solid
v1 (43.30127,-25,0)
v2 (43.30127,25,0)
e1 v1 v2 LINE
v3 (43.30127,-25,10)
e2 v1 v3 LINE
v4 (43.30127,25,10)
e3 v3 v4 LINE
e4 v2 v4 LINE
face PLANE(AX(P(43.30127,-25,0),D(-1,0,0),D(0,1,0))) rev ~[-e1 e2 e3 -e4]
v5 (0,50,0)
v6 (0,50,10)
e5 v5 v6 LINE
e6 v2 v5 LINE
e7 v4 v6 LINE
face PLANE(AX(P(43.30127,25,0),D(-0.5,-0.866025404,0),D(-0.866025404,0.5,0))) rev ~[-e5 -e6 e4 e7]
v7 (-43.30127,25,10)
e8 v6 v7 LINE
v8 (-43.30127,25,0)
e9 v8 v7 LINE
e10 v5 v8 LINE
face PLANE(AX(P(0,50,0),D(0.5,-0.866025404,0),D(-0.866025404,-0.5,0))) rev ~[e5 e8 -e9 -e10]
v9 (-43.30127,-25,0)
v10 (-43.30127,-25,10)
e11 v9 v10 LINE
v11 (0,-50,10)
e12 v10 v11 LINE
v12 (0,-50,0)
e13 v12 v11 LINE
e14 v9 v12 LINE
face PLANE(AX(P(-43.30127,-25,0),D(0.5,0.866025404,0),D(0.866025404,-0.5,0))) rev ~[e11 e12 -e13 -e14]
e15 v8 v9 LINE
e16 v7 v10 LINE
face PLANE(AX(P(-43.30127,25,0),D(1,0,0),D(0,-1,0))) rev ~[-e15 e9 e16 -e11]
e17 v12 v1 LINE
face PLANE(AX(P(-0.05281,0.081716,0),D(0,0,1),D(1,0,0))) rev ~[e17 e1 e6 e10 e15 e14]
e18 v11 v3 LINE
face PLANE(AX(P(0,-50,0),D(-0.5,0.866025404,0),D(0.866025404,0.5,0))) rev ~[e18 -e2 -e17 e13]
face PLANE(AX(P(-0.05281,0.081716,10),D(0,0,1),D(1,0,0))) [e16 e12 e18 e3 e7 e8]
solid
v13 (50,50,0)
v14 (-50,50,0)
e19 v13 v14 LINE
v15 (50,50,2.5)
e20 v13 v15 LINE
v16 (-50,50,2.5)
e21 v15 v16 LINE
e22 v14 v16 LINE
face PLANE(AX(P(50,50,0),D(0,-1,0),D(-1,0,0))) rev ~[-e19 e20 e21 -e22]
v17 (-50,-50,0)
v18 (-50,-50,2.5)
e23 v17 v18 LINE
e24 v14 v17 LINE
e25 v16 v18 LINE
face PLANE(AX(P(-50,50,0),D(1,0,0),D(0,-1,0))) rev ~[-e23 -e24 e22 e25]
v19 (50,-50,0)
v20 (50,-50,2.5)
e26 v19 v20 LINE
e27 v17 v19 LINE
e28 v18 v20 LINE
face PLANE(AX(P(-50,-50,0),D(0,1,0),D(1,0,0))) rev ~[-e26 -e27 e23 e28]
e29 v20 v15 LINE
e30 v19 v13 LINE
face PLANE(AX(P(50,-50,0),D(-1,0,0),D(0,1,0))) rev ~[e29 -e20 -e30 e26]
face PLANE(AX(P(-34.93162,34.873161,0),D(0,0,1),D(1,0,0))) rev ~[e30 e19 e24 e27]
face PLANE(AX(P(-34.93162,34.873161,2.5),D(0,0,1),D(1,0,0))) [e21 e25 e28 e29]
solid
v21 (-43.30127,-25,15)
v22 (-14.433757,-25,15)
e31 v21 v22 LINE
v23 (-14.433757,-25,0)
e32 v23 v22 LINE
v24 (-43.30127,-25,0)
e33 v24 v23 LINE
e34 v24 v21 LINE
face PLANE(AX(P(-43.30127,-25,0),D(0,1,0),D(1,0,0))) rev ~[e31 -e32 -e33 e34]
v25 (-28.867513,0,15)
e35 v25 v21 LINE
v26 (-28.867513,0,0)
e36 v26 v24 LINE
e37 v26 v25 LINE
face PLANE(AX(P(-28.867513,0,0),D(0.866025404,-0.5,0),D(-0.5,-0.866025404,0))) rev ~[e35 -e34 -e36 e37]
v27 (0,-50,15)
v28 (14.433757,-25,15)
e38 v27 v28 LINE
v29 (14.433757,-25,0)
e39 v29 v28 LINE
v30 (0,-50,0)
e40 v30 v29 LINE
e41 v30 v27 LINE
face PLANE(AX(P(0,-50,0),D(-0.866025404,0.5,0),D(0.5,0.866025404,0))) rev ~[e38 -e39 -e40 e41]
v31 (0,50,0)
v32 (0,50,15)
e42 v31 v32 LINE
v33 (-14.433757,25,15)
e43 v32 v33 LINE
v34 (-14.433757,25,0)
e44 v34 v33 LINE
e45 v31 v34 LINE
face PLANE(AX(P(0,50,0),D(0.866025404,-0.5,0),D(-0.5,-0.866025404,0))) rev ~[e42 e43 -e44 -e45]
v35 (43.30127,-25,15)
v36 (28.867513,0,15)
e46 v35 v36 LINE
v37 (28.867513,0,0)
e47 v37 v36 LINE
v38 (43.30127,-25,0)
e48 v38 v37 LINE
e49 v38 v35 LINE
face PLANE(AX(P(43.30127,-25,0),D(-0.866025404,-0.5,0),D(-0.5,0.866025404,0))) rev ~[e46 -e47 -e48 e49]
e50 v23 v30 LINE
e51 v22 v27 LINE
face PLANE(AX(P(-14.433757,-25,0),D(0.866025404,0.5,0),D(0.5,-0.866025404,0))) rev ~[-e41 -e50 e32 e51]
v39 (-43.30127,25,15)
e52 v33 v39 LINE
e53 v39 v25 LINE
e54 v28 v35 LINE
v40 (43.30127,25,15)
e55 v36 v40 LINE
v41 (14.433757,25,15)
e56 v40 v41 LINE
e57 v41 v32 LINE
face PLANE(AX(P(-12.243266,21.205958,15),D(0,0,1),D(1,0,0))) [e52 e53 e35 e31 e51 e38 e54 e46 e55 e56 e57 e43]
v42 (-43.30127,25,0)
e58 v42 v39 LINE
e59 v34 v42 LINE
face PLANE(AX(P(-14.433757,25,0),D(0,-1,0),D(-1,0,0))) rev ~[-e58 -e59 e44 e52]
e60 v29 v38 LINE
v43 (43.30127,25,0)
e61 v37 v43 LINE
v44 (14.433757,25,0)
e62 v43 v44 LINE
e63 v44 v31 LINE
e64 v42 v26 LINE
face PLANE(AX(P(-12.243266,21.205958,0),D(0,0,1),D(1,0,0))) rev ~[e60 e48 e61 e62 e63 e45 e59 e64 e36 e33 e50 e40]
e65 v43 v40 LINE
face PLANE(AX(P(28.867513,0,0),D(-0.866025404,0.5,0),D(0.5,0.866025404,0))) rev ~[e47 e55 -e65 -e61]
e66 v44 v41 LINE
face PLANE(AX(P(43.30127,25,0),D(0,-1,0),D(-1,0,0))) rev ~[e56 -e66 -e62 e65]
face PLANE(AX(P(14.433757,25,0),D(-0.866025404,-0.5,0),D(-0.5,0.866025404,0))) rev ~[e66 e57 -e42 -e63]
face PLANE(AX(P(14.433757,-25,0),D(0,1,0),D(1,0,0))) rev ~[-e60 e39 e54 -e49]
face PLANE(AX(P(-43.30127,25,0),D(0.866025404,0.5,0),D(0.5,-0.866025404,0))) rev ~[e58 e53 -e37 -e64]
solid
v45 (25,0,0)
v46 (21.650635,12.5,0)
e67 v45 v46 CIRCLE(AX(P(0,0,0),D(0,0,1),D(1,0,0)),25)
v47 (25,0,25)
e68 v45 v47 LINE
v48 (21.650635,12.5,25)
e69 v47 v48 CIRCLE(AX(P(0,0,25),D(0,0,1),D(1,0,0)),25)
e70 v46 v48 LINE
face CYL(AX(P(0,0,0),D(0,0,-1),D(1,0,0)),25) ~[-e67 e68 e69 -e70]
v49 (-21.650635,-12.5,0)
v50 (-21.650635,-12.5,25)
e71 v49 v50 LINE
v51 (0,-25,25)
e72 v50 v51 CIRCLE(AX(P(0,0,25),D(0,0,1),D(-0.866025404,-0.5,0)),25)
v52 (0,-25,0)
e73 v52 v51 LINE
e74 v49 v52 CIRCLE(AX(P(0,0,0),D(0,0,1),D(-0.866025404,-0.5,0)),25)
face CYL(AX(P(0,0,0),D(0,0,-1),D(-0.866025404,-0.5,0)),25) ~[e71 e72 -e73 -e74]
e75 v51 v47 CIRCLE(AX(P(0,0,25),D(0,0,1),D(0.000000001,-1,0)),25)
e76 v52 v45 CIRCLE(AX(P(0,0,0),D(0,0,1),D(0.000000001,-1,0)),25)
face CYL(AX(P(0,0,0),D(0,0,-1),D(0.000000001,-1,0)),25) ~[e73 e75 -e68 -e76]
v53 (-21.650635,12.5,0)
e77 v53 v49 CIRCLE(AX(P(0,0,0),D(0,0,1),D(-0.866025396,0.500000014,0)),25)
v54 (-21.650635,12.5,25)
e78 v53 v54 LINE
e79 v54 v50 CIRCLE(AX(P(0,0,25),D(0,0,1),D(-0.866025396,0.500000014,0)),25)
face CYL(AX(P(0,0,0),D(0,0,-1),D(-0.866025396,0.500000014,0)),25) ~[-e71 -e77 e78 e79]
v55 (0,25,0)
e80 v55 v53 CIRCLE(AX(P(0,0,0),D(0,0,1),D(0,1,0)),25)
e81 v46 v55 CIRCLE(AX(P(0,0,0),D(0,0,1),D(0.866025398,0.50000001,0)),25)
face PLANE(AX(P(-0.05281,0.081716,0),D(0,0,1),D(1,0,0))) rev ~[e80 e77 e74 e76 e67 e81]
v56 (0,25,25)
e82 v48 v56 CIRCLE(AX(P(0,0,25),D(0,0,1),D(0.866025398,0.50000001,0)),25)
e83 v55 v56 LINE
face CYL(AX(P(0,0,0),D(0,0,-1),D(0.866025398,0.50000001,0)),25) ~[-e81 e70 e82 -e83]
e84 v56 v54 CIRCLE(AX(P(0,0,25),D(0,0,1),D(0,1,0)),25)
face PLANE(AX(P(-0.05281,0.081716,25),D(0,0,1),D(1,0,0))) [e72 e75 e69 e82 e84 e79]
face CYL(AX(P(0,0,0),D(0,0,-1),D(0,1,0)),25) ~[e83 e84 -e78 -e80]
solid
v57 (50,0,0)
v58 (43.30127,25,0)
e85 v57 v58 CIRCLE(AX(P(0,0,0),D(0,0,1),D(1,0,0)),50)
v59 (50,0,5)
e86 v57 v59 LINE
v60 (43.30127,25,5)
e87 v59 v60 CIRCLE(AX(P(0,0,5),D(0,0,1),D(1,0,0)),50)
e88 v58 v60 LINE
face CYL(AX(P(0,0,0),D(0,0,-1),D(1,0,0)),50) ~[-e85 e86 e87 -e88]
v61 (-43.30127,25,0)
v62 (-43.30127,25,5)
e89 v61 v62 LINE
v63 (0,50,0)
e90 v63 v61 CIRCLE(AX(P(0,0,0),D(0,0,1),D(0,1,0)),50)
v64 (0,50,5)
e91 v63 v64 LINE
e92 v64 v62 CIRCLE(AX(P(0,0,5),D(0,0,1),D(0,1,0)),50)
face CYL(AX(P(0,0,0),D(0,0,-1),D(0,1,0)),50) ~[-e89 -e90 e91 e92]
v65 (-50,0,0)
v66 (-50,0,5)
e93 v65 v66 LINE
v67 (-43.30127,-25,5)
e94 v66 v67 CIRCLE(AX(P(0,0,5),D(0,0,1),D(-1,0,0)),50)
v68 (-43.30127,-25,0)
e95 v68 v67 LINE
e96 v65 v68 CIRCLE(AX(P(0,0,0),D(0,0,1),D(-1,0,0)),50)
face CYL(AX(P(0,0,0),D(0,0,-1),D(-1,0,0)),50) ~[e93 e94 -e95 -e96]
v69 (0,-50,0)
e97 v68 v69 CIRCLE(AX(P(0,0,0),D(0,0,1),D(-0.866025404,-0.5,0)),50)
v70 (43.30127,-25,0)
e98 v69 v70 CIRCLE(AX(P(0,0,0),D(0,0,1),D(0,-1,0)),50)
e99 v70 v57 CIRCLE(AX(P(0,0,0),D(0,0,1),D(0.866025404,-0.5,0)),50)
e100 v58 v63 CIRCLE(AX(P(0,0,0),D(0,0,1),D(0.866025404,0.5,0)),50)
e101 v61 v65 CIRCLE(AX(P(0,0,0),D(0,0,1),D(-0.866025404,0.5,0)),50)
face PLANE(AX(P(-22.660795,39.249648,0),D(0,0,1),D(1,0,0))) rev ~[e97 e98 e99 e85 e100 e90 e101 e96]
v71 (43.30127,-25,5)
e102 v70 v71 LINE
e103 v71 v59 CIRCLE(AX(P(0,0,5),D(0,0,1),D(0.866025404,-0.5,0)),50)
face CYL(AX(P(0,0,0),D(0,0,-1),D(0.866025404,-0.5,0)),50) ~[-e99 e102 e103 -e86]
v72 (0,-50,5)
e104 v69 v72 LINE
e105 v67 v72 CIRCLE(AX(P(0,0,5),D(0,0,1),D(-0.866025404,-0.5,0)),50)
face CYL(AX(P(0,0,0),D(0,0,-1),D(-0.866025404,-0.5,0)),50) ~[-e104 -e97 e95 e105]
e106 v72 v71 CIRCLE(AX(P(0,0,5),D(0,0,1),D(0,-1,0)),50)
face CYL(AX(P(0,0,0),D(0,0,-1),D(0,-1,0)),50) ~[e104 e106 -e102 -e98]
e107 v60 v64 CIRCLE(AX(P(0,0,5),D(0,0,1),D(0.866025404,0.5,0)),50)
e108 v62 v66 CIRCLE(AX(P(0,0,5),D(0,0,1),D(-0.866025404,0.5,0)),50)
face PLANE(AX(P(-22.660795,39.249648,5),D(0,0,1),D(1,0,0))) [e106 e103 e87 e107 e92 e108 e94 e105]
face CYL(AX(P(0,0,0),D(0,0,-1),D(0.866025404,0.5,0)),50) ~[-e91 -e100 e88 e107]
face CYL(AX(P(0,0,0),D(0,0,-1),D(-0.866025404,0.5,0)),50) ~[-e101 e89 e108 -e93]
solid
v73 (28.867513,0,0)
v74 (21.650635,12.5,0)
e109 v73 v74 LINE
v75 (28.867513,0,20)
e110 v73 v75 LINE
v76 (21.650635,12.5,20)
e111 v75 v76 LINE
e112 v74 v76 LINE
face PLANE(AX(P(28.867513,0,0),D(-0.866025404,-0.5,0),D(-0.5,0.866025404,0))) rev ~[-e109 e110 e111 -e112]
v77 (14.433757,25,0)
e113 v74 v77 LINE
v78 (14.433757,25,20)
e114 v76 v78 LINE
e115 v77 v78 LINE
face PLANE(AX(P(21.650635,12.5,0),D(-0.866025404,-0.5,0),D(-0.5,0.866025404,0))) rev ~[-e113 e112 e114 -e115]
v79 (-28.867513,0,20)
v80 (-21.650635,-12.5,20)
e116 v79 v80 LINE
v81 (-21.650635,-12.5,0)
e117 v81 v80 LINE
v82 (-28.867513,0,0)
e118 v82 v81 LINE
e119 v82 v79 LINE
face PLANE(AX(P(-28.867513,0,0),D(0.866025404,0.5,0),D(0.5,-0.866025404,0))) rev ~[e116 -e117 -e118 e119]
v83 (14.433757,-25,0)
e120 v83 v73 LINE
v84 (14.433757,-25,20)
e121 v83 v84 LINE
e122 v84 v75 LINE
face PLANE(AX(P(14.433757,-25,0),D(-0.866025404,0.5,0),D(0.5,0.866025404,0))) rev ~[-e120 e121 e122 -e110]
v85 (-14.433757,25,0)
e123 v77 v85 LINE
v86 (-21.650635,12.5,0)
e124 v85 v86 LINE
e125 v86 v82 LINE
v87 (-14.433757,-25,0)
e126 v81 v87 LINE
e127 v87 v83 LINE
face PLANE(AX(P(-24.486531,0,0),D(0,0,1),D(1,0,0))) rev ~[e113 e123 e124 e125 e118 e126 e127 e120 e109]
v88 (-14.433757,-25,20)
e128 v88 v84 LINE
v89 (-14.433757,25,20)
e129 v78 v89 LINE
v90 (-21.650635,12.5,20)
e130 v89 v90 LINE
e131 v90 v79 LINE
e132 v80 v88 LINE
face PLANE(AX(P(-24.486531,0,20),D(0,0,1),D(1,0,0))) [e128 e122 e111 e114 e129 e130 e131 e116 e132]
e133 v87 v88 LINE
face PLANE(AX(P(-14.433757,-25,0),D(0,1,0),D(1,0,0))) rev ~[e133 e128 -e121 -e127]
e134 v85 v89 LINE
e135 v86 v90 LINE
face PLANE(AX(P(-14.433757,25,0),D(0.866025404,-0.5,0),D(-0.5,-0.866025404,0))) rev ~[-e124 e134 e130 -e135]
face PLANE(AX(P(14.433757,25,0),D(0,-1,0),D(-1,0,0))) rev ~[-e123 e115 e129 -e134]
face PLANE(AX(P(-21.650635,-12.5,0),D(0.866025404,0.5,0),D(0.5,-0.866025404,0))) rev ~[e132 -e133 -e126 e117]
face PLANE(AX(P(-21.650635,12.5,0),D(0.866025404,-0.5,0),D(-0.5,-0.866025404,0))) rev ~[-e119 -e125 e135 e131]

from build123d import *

# Parameters (mm, degrees)
F1_DEPTH = 25
F2_DEPTH = 20
F3_DEPTH = 15
F4_DEPTH = 10
F5_DEPTH = 5
F6_DEPTH = 2.5


with BuildPart() as f1:
    # F0 (on Top) → F1 (new body)
    with BuildSketch(Plane.XY):
        with BuildLine():
            ThreePointArc((21.6506349485, 12.5000002531), (12.4999998734, 21.6506351677), (0, 25))
            ThreePointArc((0, 25), (-12.499999828, 21.6506351939), (-21.650634896, 12.500000344))
            ThreePointArc((-21.650634896, 12.500000344), (-25, 2.051e-07), (-21.6506351011, -12.4999999888))
            ThreePointArc((-21.6506351011, -12.4999999888), (-12.4999999898, -21.6506351005), (3.65e-08, -25))
            ThreePointArc((3.65e-08, -25), (12.5000002944, -21.6506349246), (21.6506354163, -12.4999994428))
            ThreePointArc((21.6506354163, -12.4999994428), (24.1481457405, -6.4704758168), (25, 0))
            ThreePointArc((25, 0), (24.1481456194, 6.4704762687), (21.6506349485, 12.5000002531))
        make_face()
    extrude(amount=F1_DEPTH)


with BuildPart() as f2:
    # F0 (on Top) → F2 (new body)
    with BuildSketch(Plane.XY):
        with BuildLine():
            Line((-21.650634896, 12.500000344), (-28.8675134595, 0))
            Line((-28.8675134595, 0), (-21.6506351011, -12.4999999888))
            ThreePointArc((-21.6506351011, -12.4999999888), (-25, 2.051e-07), (-21.650634896, 12.500000344))
        make_face()
        with BuildLine():
            Line((0, 25), (-14.4337567297, 25))
            Line((-14.4337567297, 25), (-21.650634896, 12.500000344))
            ThreePointArc((-21.650634896, 12.500000344), (-12.499999828, 21.6506351939), (0, 25))
        make_face()
        with BuildLine():
            Line((21.6506349485, 12.5000002531), (14.4337567297, 25))
            Line((14.4337567297, 25), (0, 25))
            ThreePointArc((0, 25), (12.4999998734, 21.6506351677), (21.6506349485, 12.5000002531))
        make_face()
        with BuildLine():
            Line((21.6506354163, -12.4999994428), (28.8675134595, 0))
            Line((28.8675134595, 0), (21.6506349485, 12.5000002531))
            ThreePointArc((21.6506349485, 12.5000002531), (24.1481456194, 6.4704762687), (25, 0))
            ThreePointArc((25, 0), (24.1481457405, -6.4704758168), (21.6506354163, -12.4999994428))
        make_face()
        with BuildLine():
            Line((3.65e-08, -25), (14.4337567297, -25))
            Line((14.4337567297, -25), (21.6506354163, -12.4999994428))
            ThreePointArc((21.6506354163, -12.4999994428), (12.5000002944, -21.6506349246), (3.65e-08, -25))
        make_face()
        with BuildLine():
            Line((-21.6506351011, -12.4999999888), (-14.4337567297, -25))
            Line((-14.4337567297, -25), (3.65e-08, -25))
            ThreePointArc((3.65e-08, -25), (-12.4999999898, -21.6506351005), (-21.6506351011, -12.4999999888))
        make_face()
        with BuildLine():
            ThreePointArc((21.6506349485, 12.5000002531), (12.4999998734, 21.6506351677), (0, 25))
            ThreePointArc((0, 25), (-12.499999828, 21.6506351939), (-21.650634896, 12.500000344))
            ThreePointArc((-21.650634896, 12.500000344), (-25, 2.051e-07), (-21.6506351011, -12.4999999888))
            ThreePointArc((-21.6506351011, -12.4999999888), (-12.4999999898, -21.6506351005), (3.65e-08, -25))
            ThreePointArc((3.65e-08, -25), (12.5000002944, -21.6506349246), (21.6506354163, -12.4999994428))
            ThreePointArc((21.6506354163, -12.4999994428), (24.1481457405, -6.4704758168), (25, 0))
            ThreePointArc((25, 0), (24.1481456194, 6.4704762687), (21.6506349485, 12.5000002531))
        make_face()
    extrude(amount=F2_DEPTH)


with BuildPart() as f3:
    # F0 (on Top) → F3 (new body)
    with BuildSketch(Plane.XY):
        with BuildLine():
            Line((0, 25), (-14.4337567297, 25))
            Line((-14.4337567297, 25), (-21.650634896, 12.500000344))
            ThreePointArc((-21.650634896, 12.500000344), (-12.499999828, 21.6506351939), (0, 25))
        make_face()
        with BuildLine():
            Line((21.6506349485, 12.5000002531), (14.4337567297, 25))
            Line((14.4337567297, 25), (0, 25))
            ThreePointArc((0, 25), (12.4999998734, 21.6506351677), (21.6506349485, 12.5000002531))
        make_face()
        with BuildLine():
            ThreePointArc((21.6506349485, 12.5000002531), (12.4999998734, 21.6506351677), (0, 25))
            ThreePointArc((0, 25), (-12.499999828, 21.6506351939), (-21.650634896, 12.500000344))
            ThreePointArc((-21.650634896, 12.500000344), (-25, 2.051e-07), (-21.6506351011, -12.4999999888))
            ThreePointArc((-21.6506351011, -12.4999999888), (-12.4999999898, -21.6506351005), (3.65e-08, -25))
            ThreePointArc((3.65e-08, -25), (12.5000002944, -21.6506349246), (21.6506354163, -12.4999994428))
            ThreePointArc((21.6506354163, -12.4999994428), (24.1481457405, -6.4704758168), (25, 0))
            ThreePointArc((25, 0), (24.1481456194, 6.4704762687), (21.6506349485, 12.5000002531))
        make_face()
        with BuildLine():
            Line((21.6506354163, -12.4999994428), (28.8675134595, 0))
            Line((28.8675134595, 0), (21.6506349485, 12.5000002531))
            ThreePointArc((21.6506349485, 12.5000002531), (24.1481456194, 6.4704762687), (25, 0))
            ThreePointArc((25, 0), (24.1481457405, -6.4704758168), (21.6506354163, -12.4999994428))
        make_face()
        with BuildLine():
            Line((3.65e-08, -25), (14.4337567297, -25))
            Line((14.4337567297, -25), (21.6506354163, -12.4999994428))
            ThreePointArc((21.6506354163, -12.4999994428), (12.5000002944, -21.6506349246), (3.65e-08, -25))
        make_face()
        with BuildLine():
            Line((-21.6506351011, -12.4999999888), (-14.4337567297, -25))
            Line((-14.4337567297, -25), (3.65e-08, -25))
            ThreePointArc((3.65e-08, -25), (-12.4999999898, -21.6506351005), (-21.6506351011, -12.4999999888))
        make_face()
        with BuildLine():
            Line((-21.650634896, 12.500000344), (-28.8675134595, 0))
            Line((-28.8675134595, 0), (-21.6506351011, -12.4999999888))
            ThreePointArc((-21.6506351011, -12.4999999888), (-25, 2.051e-07), (-21.650634896, 12.500000344))
        make_face()
        Polygon((28.8675134595, 0), (43.3012701892, 25), (14.4337567297, 25), (21.6506349485, 12.5000002531), align=None)
        Polygon((-14.4337567297, -25), (0, -50), (14.4337567297, -25), (3.65e-08, -25), align=None)
        Polygon((14.4337567297, -25), (43.3012701892, -25), (28.8675134595, 0), (21.6506354163, -12.4999994428), align=None)
        Polygon((14.4337567297, 25), (0, 50), (-14.4337567297, 25), (0, 25), align=None)
        Polygon((-14.4337567297, 25), (-43.3012701892, 25), (-28.8675134595, 0), (-21.650634896, 12.500000344), align=None)
        Polygon((-28.8675134595, 0), (-43.3012701892, -25), (-14.4337567297, -25), (-21.6506351011, -12.4999999888), align=None)
    extrude(amount=F3_DEPTH)


with BuildPart() as f4:
    # F0 (on Top) → F4 (new body)
    with BuildSketch(Plane.XY):
        with BuildLine():
            ThreePointArc((21.6506349485, 12.5000002531), (12.4999998734, 21.6506351677), (0, 25))
            ThreePointArc((0, 25), (-12.499999828, 21.6506351939), (-21.650634896, 12.500000344))
            ThreePointArc((-21.650634896, 12.500000344), (-25, 2.051e-07), (-21.6506351011, -12.4999999888))
            ThreePointArc((-21.6506351011, -12.4999999888), (-12.4999999898, -21.6506351005), (3.65e-08, -25))
            ThreePointArc((3.65e-08, -25), (12.5000002944, -21.6506349246), (21.6506354163, -12.4999994428))
            ThreePointArc((21.6506354163, -12.4999994428), (24.1481457405, -6.4704758168), (25, 0))
            ThreePointArc((25, 0), (24.1481456194, 6.4704762687), (21.6506349485, 12.5000002531))
        make_face()
        with BuildLine():
            Line((0, 25), (-14.4337567297, 25))
            Line((-14.4337567297, 25), (-21.650634896, 12.500000344))
            ThreePointArc((-21.650634896, 12.500000344), (-12.499999828, 21.6506351939), (0, 25))
        make_face()
        with BuildLine():
            Line((21.6506349485, 12.5000002531), (14.4337567297, 25))
            Line((14.4337567297, 25), (0, 25))
            ThreePointArc((0, 25), (12.4999998734, 21.6506351677), (21.6506349485, 12.5000002531))
        make_face()
        with BuildLine():
            Line((21.6506354163, -12.4999994428), (28.8675134595, 0))
            Line((28.8675134595, 0), (21.6506349485, 12.5000002531))
            ThreePointArc((21.6506349485, 12.5000002531), (24.1481456194, 6.4704762687), (25, 0))
            ThreePointArc((25, 0), (24.1481457405, -6.4704758168), (21.6506354163, -12.4999994428))
        make_face()
        with BuildLine():
            Line((3.65e-08, -25), (14.4337567297, -25))
            Line((14.4337567297, -25), (21.6506354163, -12.4999994428))
            ThreePointArc((21.6506354163, -12.4999994428), (12.5000002944, -21.6506349246), (3.65e-08, -25))
        make_face()
        with BuildLine():
            Line((-21.6506351011, -12.4999999888), (-14.4337567297, -25))
            Line((-14.4337567297, -25), (3.65e-08, -25))
            ThreePointArc((3.65e-08, -25), (-12.4999999898, -21.6506351005), (-21.6506351011, -12.4999999888))
        make_face()
        with BuildLine():
            Line((-21.650634896, 12.500000344), (-28.8675134595, 0))
            Line((-28.8675134595, 0), (-21.6506351011, -12.4999999888))
            ThreePointArc((-21.6506351011, -12.4999999888), (-25, 2.051e-07), (-21.650634896, 12.500000344))
        make_face()
        Polygon((-14.4337567297, 25), (-43.3012701892, 25), (-28.8675134595, 0), (-21.650634896, 12.500000344), align=None)
        Polygon((-28.8675134595, 0), (-43.3012701892, -25), (-14.4337567297, -25), (-21.6506351011, -12.4999999888), align=None)
        Polygon((-14.4337567297, -25), (0, -50), (14.4337567297, -25), (3.65e-08, -25), align=None)
        Polygon((14.4337567297, -25), (43.3012701892, -25), (28.8675134595, 0), (21.6506354163, -12.4999994428), align=None)
        Polygon((28.8675134595, 0), (43.3012701892, 25), (14.4337567297, 25), (21.6506349485, 12.5000002531), align=None)
        Polygon((14.4337567297, 25), (0, 50), (-14.4337567297, 25), (0, 25), align=None)
        Polygon((-14.4337567297, 25), (0, 50), (-43.3012701892, 25), align=None)
        Polygon((14.4337567297, 25), (43.3012701892, 25), (0, 50), align=None)
        Polygon((43.3012701892, -25), (43.3012701892, 25), (28.8675134595, 0), align=None)
        Polygon((0, -50), (43.3012701892, -25), (14.4337567297, -25), align=None)
        Polygon((-43.3012701892, -25), (0, -50), (-14.4337567297, -25), align=None)
        Polygon((-28.8675134595, 0), (-43.3012701892, 25), (-43.3012701892, -25), align=None)
    extrude(amount=F4_DEPTH)


with BuildPart() as f5:
    # F0 (on Top) → F5 (new body)
    with BuildSketch(Plane.XY):
        with BuildLine():
            Line((-43.3012701892, 25), (0, 50))
            ThreePointArc((0, 50), (-25, 43.3012701892), (-43.3012701892, 25))
        make_face()
        with BuildLine():
            Line((0, 50), (43.3012701892, 25))
            ThreePointArc((43.3012701892, 25), (25, 43.3012701892), (0, 50))
        make_face()
        Polygon((-14.4337567297, 25), (0, 50), (-43.3012701892, 25), align=None)
        Polygon((14.4337567297, 25), (0, 50), (-14.4337567297, 25), (0, 25), align=None)
        Polygon((14.4337567297, 25), (43.3012701892, 25), (0, 50), align=None)
        Polygon((-14.4337567297, 25), (-43.3012701892, 25), (-28.8675134595, 0), (-21.650634896, 12.500000344), align=None)
        with BuildLine():
            Line((0, 25), (-14.4337567297, 25))
            Line((-14.4337567297, 25), (-21.650634896, 12.500000344))
            ThreePointArc((-21.650634896, 12.500000344), (-12.499999828, 21.6506351939), (0, 25))
        make_face()
        with BuildLine():
            Line((21.6506349485, 12.5000002531), (14.4337567297, 25))
            Line((14.4337567297, 25), (0, 25))
            ThreePointArc((0, 25), (12.4999998734, 21.6506351677), (21.6506349485, 12.5000002531))
        make_face()
        Polygon((28.8675134595, 0), (43.3012701892, 25), (14.4337567297, 25), (21.6506349485, 12.5000002531), align=None)
        with BuildLine():
            ThreePointArc((43.3012701892, -25), (48.2962913145, -12.9409522551), (50, 0))
            ThreePointArc((50, 0), (48.2962913145, 12.9409522551), (43.3012701892, 25))
            Line((43.3012701892, 25), (43.3012701892, -25))
        make_face()
        Polygon((43.3012701892, -25), (43.3012701892, 25), (28.8675134595, 0), align=None)
        with BuildLine():
            Line((21.6506354163, -12.4999994428), (28.8675134595, 0))
            Line((28.8675134595, 0), (21.6506349485, 12.5000002531))
            ThreePointArc((21.6506349485, 12.5000002531), (24.1481456194, 6.4704762687), (25, 0))
            ThreePointArc((25, 0), (24.1481457405, -6.4704758168), (21.6506354163, -12.4999994428))
        make_face()
        with BuildLine():
            ThreePointArc((21.6506349485, 12.5000002531), (12.4999998734, 21.6506351677), (0, 25))
            ThreePointArc((0, 25), (-12.499999828, 21.6506351939), (-21.650634896, 12.500000344))
            ThreePointArc((-21.650634896, 12.500000344), (-25, 2.051e-07), (-21.6506351011, -12.4999999888))
            ThreePointArc((-21.6506351011, -12.4999999888), (-12.4999999898, -21.6506351005), (3.65e-08, -25))
            ThreePointArc((3.65e-08, -25), (12.5000002944, -21.6506349246), (21.6506354163, -12.4999994428))
            ThreePointArc((21.6506354163, -12.4999994428), (24.1481457405, -6.4704758168), (25, 0))
            ThreePointArc((25, 0), (24.1481456194, 6.4704762687), (21.6506349485, 12.5000002531))
        make_face()
        with BuildLine():
            Line((-21.650634896, 12.500000344), (-28.8675134595, 0))
            Line((-28.8675134595, 0), (-21.6506351011, -12.4999999888))
            ThreePointArc((-21.6506351011, -12.4999999888), (-25, 2.051e-07), (-21.650634896, 12.500000344))
        make_face()
        Polygon((-28.8675134595, 0), (-43.3012701892, 25), (-43.3012701892, -25), align=None)
        with BuildLine():
            Line((-43.3012701892, -25), (-43.3012701892, 25))
            ThreePointArc((-43.3012701892, 25), (-48.2962913145, 12.9409522551), (-50, 0))
            ThreePointArc((-50, 0), (-48.2962913145, -12.9409522551), (-43.3012701892, -25))
        make_face()
        Polygon((-28.8675134595, 0), (-43.3012701892, -25), (-14.4337567297, -25), (-21.6506351011, -12.4999999888), align=None)
        with BuildLine():
            Line((-21.6506351011, -12.4999999888), (-14.4337567297, -25))
            Line((-14.4337567297, -25), (3.65e-08, -25))
            ThreePointArc((3.65e-08, -25), (-12.4999999898, -21.6506351005), (-21.6506351011, -12.4999999888))
        make_face()
        with BuildLine():
            Line((3.65e-08, -25), (14.4337567297, -25))
            Line((14.4337567297, -25), (21.6506354163, -12.4999994428))
            ThreePointArc((21.6506354163, -12.4999994428), (12.5000002944, -21.6506349246), (3.65e-08, -25))
        make_face()
        Polygon((14.4337567297, -25), (43.3012701892, -25), (28.8675134595, 0), (21.6506354163, -12.4999994428), align=None)
        Polygon((0, -50), (43.3012701892, -25), (14.4337567297, -25), align=None)
        Polygon((-14.4337567297, -25), (0, -50), (14.4337567297, -25), (3.65e-08, -25), align=None)
        Polygon((-43.3012701892, -25), (0, -50), (-14.4337567297, -25), align=None)
        with BuildLine():
            ThreePointArc((-43.3012701892, -25), (-25, -43.3012701892), (0, -50))
            Line((0, -50), (-43.3012701892, -25))
        make_face()
        with BuildLine():
            ThreePointArc((0, -50), (25, -43.3012701892), (43.3012701892, -25))
            Line((43.3012701892, -25), (0, -50))
        make_face()
    extrude(amount=F5_DEPTH)


with BuildPart() as f6:
    # F0 (on Top) → F6 (new body)
    with BuildSketch(Plane.XY):
        with BuildLine():
            ThreePointArc((-43.3012701892, 25), (-25, 43.3012701892), (0, 50))
            Line((0, 50), (-50, 50))
            Line((-50, 50), (-50, 0))
            ThreePointArc((-50, 0), (-48.2962913145, 12.9409522551), (-43.3012701892, 25))
        make_face()
        with BuildLine():
            Line((-43.3012701892, 25), (0, 50))
            ThreePointArc((0, 50), (-25, 43.3012701892), (-43.3012701892, 25))
        make_face()
        Polygon((-14.4337567297, 25), (0, 50), (-43.3012701892, 25), align=None)
        Polygon((14.4337567297, 25), (0, 50), (-14.4337567297, 25), (0, 25), align=None)
        with BuildLine():
            Line((0, 50), (43.3012701892, 25))
            ThreePointArc((43.3012701892, 25), (25, 43.3012701892), (0, 50))
        make_face()
        Polygon((14.4337567297, 25), (43.3012701892, 25), (0, 50), align=None)
        with BuildLine():
            ThreePointArc((43.3012701892, 25), (48.2962913145, 12.9409522551), (50, 0))
            Line((50, 0), (50, 50))
            Line((50, 50), (0, 50))
            ThreePointArc((0, 50), (25, 43.3012701892), (43.3012701892, 25))
        make_face()
        Polygon((28.8675134595, 0), (43.3012701892, 25), (14.4337567297, 25), (21.6506349485, 12.5000002531), align=None)
        Polygon((43.3012701892, -25), (43.3012701892, 25), (28.8675134595, 0), align=None)
        with BuildLine():
            ThreePointArc((43.3012701892, -25), (48.2962913145, -12.9409522551), (50, 0))
            ThreePointArc((50, 0), (48.2962913145, 12.9409522551), (43.3012701892, 25))
            Line((43.3012701892, 25), (43.3012701892, -25))
        make_face()
        with BuildLine():
            ThreePointArc((21.6506349485, 12.5000002531), (12.4999998734, 21.6506351677), (0, 25))
            ThreePointArc((0, 25), (-12.499999828, 21.6506351939), (-21.650634896, 12.500000344))
            ThreePointArc((-21.650634896, 12.500000344), (-25, 2.051e-07), (-21.6506351011, -12.4999999888))
            ThreePointArc((-21.6506351011, -12.4999999888), (-12.4999999898, -21.6506351005), (3.65e-08, -25))
            ThreePointArc((3.65e-08, -25), (12.5000002944, -21.6506349246), (21.6506354163, -12.4999994428))
            ThreePointArc((21.6506354163, -12.4999994428), (24.1481457405, -6.4704758168), (25, 0))
            ThreePointArc((25, 0), (24.1481456194, 6.4704762687), (21.6506349485, 12.5000002531))
        make_face()
        Polygon((-14.4337567297, 25), (-43.3012701892, 25), (-28.8675134595, 0), (-21.650634896, 12.500000344), align=None)
        Polygon((-28.8675134595, 0), (-43.3012701892, 25), (-43.3012701892, -25), align=None)
        with BuildLine():
            Line((-43.3012701892, -25), (-43.3012701892, 25))
            ThreePointArc((-43.3012701892, 25), (-48.2962913145, 12.9409522551), (-50, 0))
            ThreePointArc((-50, 0), (-48.2962913145, -12.9409522551), (-43.3012701892, -25))
        make_face()
        Polygon((-28.8675134595, 0), (-43.3012701892, -25), (-14.4337567297, -25), (-21.6506351011, -12.4999999888), align=None)
        with BuildLine():
            Line((-50, -50), (0, -50))
            ThreePointArc((0, -50), (-25, -43.3012701892), (-43.3012701892, -25))
            ThreePointArc((-43.3012701892, -25), (-48.2962913145, -12.9409522551), (-50, 0))
            Line((-50, 0), (-50, -50))
        make_face()
        with BuildLine():
            ThreePointArc((-43.3012701892, -25), (-25, -43.3012701892), (0, -50))
            Line((0, -50), (-43.3012701892, -25))
        make_face()
        Polygon((-43.3012701892, -25), (0, -50), (-14.4337567297, -25), align=None)
        Polygon((-14.4337567297, -25), (0, -50), (14.4337567297, -25), (3.65e-08, -25), align=None)
        Polygon((0, -50), (43.3012701892, -25), (14.4337567297, -25), align=None)
        Polygon((14.4337567297, -25), (43.3012701892, -25), (28.8675134595, 0), (21.6506354163, -12.4999994428), align=None)
        with BuildLine():
            ThreePointArc((0, -50), (25, -43.3012701892), (43.3012701892, -25))
            Line((43.3012701892, -25), (0, -50))
        make_face()
        with BuildLine():
            Line((50, -50), (50, 0))
            ThreePointArc((50, 0), (48.2962913145, -12.9409522551), (43.3012701892, -25))
            ThreePointArc((43.3012701892, -25), (25, -43.3012701892), (0, -50))
            Line((0, -50), (50, -50))
        make_face()
        with BuildLine():
            Line((0, 25), (-14.4337567297, 25))
            Line((-14.4337567297, 25), (-21.650634896, 12.500000344))
            ThreePointArc((-21.650634896, 12.500000344), (-12.499999828, 21.6506351939), (0, 25))
        make_face()
        with BuildLine():
            Line((21.6506349485, 12.5000002531), (14.4337567297, 25))
            Line((14.4337567297, 25), (0, 25))
            ThreePointArc((0, 25), (12.4999998734, 21.6506351677), (21.6506349485, 12.5000002531))
        make_face()
        with BuildLine():
            Line((-21.650634896, 12.500000344), (-28.8675134595, 0))
            Line((-28.8675134595, 0), (-21.6506351011, -12.4999999888))
            ThreePointArc((-21.6506351011, -12.4999999888), (-25, 2.051e-07), (-21.650634896, 12.500000344))
        make_face()
        with BuildLine():
            Line((-21.6506351011, -12.4999999888), (-14.4337567297, -25))
            Line((-14.4337567297, -25), (3.65e-08, -25))
            ThreePointArc((3.65e-08, -25), (-12.4999999898, -21.6506351005), (-21.6506351011, -12.4999999888))
        make_face()
        with BuildLine():
            Line((3.65e-08, -25), (14.4337567297, -25))
            Line((14.4337567297, -25), (21.6506354163, -12.4999994428))
            ThreePointArc((21.6506354163, -12.4999994428), (12.5000002944, -21.6506349246), (3.65e-08, -25))
        make_face()
        with BuildLine():
            Line((21.6506354163, -12.4999994428), (28.8675134595, 0))
            Line((28.8675134595, 0), (21.6506349485, 12.5000002531))
            ThreePointArc((21.6506349485, 12.5000002531), (24.1481456194, 6.4704762687), (25, 0))
            ThreePointArc((25, 0), (24.1481457405, -6.4704758168), (21.6506354163, -12.4999994428))
        make_face()
    extrude(amount=F6_DEPTH)


solid = Compound([f1.part, f2.part, f3.part, f4.part, f5.part, f6.part])
